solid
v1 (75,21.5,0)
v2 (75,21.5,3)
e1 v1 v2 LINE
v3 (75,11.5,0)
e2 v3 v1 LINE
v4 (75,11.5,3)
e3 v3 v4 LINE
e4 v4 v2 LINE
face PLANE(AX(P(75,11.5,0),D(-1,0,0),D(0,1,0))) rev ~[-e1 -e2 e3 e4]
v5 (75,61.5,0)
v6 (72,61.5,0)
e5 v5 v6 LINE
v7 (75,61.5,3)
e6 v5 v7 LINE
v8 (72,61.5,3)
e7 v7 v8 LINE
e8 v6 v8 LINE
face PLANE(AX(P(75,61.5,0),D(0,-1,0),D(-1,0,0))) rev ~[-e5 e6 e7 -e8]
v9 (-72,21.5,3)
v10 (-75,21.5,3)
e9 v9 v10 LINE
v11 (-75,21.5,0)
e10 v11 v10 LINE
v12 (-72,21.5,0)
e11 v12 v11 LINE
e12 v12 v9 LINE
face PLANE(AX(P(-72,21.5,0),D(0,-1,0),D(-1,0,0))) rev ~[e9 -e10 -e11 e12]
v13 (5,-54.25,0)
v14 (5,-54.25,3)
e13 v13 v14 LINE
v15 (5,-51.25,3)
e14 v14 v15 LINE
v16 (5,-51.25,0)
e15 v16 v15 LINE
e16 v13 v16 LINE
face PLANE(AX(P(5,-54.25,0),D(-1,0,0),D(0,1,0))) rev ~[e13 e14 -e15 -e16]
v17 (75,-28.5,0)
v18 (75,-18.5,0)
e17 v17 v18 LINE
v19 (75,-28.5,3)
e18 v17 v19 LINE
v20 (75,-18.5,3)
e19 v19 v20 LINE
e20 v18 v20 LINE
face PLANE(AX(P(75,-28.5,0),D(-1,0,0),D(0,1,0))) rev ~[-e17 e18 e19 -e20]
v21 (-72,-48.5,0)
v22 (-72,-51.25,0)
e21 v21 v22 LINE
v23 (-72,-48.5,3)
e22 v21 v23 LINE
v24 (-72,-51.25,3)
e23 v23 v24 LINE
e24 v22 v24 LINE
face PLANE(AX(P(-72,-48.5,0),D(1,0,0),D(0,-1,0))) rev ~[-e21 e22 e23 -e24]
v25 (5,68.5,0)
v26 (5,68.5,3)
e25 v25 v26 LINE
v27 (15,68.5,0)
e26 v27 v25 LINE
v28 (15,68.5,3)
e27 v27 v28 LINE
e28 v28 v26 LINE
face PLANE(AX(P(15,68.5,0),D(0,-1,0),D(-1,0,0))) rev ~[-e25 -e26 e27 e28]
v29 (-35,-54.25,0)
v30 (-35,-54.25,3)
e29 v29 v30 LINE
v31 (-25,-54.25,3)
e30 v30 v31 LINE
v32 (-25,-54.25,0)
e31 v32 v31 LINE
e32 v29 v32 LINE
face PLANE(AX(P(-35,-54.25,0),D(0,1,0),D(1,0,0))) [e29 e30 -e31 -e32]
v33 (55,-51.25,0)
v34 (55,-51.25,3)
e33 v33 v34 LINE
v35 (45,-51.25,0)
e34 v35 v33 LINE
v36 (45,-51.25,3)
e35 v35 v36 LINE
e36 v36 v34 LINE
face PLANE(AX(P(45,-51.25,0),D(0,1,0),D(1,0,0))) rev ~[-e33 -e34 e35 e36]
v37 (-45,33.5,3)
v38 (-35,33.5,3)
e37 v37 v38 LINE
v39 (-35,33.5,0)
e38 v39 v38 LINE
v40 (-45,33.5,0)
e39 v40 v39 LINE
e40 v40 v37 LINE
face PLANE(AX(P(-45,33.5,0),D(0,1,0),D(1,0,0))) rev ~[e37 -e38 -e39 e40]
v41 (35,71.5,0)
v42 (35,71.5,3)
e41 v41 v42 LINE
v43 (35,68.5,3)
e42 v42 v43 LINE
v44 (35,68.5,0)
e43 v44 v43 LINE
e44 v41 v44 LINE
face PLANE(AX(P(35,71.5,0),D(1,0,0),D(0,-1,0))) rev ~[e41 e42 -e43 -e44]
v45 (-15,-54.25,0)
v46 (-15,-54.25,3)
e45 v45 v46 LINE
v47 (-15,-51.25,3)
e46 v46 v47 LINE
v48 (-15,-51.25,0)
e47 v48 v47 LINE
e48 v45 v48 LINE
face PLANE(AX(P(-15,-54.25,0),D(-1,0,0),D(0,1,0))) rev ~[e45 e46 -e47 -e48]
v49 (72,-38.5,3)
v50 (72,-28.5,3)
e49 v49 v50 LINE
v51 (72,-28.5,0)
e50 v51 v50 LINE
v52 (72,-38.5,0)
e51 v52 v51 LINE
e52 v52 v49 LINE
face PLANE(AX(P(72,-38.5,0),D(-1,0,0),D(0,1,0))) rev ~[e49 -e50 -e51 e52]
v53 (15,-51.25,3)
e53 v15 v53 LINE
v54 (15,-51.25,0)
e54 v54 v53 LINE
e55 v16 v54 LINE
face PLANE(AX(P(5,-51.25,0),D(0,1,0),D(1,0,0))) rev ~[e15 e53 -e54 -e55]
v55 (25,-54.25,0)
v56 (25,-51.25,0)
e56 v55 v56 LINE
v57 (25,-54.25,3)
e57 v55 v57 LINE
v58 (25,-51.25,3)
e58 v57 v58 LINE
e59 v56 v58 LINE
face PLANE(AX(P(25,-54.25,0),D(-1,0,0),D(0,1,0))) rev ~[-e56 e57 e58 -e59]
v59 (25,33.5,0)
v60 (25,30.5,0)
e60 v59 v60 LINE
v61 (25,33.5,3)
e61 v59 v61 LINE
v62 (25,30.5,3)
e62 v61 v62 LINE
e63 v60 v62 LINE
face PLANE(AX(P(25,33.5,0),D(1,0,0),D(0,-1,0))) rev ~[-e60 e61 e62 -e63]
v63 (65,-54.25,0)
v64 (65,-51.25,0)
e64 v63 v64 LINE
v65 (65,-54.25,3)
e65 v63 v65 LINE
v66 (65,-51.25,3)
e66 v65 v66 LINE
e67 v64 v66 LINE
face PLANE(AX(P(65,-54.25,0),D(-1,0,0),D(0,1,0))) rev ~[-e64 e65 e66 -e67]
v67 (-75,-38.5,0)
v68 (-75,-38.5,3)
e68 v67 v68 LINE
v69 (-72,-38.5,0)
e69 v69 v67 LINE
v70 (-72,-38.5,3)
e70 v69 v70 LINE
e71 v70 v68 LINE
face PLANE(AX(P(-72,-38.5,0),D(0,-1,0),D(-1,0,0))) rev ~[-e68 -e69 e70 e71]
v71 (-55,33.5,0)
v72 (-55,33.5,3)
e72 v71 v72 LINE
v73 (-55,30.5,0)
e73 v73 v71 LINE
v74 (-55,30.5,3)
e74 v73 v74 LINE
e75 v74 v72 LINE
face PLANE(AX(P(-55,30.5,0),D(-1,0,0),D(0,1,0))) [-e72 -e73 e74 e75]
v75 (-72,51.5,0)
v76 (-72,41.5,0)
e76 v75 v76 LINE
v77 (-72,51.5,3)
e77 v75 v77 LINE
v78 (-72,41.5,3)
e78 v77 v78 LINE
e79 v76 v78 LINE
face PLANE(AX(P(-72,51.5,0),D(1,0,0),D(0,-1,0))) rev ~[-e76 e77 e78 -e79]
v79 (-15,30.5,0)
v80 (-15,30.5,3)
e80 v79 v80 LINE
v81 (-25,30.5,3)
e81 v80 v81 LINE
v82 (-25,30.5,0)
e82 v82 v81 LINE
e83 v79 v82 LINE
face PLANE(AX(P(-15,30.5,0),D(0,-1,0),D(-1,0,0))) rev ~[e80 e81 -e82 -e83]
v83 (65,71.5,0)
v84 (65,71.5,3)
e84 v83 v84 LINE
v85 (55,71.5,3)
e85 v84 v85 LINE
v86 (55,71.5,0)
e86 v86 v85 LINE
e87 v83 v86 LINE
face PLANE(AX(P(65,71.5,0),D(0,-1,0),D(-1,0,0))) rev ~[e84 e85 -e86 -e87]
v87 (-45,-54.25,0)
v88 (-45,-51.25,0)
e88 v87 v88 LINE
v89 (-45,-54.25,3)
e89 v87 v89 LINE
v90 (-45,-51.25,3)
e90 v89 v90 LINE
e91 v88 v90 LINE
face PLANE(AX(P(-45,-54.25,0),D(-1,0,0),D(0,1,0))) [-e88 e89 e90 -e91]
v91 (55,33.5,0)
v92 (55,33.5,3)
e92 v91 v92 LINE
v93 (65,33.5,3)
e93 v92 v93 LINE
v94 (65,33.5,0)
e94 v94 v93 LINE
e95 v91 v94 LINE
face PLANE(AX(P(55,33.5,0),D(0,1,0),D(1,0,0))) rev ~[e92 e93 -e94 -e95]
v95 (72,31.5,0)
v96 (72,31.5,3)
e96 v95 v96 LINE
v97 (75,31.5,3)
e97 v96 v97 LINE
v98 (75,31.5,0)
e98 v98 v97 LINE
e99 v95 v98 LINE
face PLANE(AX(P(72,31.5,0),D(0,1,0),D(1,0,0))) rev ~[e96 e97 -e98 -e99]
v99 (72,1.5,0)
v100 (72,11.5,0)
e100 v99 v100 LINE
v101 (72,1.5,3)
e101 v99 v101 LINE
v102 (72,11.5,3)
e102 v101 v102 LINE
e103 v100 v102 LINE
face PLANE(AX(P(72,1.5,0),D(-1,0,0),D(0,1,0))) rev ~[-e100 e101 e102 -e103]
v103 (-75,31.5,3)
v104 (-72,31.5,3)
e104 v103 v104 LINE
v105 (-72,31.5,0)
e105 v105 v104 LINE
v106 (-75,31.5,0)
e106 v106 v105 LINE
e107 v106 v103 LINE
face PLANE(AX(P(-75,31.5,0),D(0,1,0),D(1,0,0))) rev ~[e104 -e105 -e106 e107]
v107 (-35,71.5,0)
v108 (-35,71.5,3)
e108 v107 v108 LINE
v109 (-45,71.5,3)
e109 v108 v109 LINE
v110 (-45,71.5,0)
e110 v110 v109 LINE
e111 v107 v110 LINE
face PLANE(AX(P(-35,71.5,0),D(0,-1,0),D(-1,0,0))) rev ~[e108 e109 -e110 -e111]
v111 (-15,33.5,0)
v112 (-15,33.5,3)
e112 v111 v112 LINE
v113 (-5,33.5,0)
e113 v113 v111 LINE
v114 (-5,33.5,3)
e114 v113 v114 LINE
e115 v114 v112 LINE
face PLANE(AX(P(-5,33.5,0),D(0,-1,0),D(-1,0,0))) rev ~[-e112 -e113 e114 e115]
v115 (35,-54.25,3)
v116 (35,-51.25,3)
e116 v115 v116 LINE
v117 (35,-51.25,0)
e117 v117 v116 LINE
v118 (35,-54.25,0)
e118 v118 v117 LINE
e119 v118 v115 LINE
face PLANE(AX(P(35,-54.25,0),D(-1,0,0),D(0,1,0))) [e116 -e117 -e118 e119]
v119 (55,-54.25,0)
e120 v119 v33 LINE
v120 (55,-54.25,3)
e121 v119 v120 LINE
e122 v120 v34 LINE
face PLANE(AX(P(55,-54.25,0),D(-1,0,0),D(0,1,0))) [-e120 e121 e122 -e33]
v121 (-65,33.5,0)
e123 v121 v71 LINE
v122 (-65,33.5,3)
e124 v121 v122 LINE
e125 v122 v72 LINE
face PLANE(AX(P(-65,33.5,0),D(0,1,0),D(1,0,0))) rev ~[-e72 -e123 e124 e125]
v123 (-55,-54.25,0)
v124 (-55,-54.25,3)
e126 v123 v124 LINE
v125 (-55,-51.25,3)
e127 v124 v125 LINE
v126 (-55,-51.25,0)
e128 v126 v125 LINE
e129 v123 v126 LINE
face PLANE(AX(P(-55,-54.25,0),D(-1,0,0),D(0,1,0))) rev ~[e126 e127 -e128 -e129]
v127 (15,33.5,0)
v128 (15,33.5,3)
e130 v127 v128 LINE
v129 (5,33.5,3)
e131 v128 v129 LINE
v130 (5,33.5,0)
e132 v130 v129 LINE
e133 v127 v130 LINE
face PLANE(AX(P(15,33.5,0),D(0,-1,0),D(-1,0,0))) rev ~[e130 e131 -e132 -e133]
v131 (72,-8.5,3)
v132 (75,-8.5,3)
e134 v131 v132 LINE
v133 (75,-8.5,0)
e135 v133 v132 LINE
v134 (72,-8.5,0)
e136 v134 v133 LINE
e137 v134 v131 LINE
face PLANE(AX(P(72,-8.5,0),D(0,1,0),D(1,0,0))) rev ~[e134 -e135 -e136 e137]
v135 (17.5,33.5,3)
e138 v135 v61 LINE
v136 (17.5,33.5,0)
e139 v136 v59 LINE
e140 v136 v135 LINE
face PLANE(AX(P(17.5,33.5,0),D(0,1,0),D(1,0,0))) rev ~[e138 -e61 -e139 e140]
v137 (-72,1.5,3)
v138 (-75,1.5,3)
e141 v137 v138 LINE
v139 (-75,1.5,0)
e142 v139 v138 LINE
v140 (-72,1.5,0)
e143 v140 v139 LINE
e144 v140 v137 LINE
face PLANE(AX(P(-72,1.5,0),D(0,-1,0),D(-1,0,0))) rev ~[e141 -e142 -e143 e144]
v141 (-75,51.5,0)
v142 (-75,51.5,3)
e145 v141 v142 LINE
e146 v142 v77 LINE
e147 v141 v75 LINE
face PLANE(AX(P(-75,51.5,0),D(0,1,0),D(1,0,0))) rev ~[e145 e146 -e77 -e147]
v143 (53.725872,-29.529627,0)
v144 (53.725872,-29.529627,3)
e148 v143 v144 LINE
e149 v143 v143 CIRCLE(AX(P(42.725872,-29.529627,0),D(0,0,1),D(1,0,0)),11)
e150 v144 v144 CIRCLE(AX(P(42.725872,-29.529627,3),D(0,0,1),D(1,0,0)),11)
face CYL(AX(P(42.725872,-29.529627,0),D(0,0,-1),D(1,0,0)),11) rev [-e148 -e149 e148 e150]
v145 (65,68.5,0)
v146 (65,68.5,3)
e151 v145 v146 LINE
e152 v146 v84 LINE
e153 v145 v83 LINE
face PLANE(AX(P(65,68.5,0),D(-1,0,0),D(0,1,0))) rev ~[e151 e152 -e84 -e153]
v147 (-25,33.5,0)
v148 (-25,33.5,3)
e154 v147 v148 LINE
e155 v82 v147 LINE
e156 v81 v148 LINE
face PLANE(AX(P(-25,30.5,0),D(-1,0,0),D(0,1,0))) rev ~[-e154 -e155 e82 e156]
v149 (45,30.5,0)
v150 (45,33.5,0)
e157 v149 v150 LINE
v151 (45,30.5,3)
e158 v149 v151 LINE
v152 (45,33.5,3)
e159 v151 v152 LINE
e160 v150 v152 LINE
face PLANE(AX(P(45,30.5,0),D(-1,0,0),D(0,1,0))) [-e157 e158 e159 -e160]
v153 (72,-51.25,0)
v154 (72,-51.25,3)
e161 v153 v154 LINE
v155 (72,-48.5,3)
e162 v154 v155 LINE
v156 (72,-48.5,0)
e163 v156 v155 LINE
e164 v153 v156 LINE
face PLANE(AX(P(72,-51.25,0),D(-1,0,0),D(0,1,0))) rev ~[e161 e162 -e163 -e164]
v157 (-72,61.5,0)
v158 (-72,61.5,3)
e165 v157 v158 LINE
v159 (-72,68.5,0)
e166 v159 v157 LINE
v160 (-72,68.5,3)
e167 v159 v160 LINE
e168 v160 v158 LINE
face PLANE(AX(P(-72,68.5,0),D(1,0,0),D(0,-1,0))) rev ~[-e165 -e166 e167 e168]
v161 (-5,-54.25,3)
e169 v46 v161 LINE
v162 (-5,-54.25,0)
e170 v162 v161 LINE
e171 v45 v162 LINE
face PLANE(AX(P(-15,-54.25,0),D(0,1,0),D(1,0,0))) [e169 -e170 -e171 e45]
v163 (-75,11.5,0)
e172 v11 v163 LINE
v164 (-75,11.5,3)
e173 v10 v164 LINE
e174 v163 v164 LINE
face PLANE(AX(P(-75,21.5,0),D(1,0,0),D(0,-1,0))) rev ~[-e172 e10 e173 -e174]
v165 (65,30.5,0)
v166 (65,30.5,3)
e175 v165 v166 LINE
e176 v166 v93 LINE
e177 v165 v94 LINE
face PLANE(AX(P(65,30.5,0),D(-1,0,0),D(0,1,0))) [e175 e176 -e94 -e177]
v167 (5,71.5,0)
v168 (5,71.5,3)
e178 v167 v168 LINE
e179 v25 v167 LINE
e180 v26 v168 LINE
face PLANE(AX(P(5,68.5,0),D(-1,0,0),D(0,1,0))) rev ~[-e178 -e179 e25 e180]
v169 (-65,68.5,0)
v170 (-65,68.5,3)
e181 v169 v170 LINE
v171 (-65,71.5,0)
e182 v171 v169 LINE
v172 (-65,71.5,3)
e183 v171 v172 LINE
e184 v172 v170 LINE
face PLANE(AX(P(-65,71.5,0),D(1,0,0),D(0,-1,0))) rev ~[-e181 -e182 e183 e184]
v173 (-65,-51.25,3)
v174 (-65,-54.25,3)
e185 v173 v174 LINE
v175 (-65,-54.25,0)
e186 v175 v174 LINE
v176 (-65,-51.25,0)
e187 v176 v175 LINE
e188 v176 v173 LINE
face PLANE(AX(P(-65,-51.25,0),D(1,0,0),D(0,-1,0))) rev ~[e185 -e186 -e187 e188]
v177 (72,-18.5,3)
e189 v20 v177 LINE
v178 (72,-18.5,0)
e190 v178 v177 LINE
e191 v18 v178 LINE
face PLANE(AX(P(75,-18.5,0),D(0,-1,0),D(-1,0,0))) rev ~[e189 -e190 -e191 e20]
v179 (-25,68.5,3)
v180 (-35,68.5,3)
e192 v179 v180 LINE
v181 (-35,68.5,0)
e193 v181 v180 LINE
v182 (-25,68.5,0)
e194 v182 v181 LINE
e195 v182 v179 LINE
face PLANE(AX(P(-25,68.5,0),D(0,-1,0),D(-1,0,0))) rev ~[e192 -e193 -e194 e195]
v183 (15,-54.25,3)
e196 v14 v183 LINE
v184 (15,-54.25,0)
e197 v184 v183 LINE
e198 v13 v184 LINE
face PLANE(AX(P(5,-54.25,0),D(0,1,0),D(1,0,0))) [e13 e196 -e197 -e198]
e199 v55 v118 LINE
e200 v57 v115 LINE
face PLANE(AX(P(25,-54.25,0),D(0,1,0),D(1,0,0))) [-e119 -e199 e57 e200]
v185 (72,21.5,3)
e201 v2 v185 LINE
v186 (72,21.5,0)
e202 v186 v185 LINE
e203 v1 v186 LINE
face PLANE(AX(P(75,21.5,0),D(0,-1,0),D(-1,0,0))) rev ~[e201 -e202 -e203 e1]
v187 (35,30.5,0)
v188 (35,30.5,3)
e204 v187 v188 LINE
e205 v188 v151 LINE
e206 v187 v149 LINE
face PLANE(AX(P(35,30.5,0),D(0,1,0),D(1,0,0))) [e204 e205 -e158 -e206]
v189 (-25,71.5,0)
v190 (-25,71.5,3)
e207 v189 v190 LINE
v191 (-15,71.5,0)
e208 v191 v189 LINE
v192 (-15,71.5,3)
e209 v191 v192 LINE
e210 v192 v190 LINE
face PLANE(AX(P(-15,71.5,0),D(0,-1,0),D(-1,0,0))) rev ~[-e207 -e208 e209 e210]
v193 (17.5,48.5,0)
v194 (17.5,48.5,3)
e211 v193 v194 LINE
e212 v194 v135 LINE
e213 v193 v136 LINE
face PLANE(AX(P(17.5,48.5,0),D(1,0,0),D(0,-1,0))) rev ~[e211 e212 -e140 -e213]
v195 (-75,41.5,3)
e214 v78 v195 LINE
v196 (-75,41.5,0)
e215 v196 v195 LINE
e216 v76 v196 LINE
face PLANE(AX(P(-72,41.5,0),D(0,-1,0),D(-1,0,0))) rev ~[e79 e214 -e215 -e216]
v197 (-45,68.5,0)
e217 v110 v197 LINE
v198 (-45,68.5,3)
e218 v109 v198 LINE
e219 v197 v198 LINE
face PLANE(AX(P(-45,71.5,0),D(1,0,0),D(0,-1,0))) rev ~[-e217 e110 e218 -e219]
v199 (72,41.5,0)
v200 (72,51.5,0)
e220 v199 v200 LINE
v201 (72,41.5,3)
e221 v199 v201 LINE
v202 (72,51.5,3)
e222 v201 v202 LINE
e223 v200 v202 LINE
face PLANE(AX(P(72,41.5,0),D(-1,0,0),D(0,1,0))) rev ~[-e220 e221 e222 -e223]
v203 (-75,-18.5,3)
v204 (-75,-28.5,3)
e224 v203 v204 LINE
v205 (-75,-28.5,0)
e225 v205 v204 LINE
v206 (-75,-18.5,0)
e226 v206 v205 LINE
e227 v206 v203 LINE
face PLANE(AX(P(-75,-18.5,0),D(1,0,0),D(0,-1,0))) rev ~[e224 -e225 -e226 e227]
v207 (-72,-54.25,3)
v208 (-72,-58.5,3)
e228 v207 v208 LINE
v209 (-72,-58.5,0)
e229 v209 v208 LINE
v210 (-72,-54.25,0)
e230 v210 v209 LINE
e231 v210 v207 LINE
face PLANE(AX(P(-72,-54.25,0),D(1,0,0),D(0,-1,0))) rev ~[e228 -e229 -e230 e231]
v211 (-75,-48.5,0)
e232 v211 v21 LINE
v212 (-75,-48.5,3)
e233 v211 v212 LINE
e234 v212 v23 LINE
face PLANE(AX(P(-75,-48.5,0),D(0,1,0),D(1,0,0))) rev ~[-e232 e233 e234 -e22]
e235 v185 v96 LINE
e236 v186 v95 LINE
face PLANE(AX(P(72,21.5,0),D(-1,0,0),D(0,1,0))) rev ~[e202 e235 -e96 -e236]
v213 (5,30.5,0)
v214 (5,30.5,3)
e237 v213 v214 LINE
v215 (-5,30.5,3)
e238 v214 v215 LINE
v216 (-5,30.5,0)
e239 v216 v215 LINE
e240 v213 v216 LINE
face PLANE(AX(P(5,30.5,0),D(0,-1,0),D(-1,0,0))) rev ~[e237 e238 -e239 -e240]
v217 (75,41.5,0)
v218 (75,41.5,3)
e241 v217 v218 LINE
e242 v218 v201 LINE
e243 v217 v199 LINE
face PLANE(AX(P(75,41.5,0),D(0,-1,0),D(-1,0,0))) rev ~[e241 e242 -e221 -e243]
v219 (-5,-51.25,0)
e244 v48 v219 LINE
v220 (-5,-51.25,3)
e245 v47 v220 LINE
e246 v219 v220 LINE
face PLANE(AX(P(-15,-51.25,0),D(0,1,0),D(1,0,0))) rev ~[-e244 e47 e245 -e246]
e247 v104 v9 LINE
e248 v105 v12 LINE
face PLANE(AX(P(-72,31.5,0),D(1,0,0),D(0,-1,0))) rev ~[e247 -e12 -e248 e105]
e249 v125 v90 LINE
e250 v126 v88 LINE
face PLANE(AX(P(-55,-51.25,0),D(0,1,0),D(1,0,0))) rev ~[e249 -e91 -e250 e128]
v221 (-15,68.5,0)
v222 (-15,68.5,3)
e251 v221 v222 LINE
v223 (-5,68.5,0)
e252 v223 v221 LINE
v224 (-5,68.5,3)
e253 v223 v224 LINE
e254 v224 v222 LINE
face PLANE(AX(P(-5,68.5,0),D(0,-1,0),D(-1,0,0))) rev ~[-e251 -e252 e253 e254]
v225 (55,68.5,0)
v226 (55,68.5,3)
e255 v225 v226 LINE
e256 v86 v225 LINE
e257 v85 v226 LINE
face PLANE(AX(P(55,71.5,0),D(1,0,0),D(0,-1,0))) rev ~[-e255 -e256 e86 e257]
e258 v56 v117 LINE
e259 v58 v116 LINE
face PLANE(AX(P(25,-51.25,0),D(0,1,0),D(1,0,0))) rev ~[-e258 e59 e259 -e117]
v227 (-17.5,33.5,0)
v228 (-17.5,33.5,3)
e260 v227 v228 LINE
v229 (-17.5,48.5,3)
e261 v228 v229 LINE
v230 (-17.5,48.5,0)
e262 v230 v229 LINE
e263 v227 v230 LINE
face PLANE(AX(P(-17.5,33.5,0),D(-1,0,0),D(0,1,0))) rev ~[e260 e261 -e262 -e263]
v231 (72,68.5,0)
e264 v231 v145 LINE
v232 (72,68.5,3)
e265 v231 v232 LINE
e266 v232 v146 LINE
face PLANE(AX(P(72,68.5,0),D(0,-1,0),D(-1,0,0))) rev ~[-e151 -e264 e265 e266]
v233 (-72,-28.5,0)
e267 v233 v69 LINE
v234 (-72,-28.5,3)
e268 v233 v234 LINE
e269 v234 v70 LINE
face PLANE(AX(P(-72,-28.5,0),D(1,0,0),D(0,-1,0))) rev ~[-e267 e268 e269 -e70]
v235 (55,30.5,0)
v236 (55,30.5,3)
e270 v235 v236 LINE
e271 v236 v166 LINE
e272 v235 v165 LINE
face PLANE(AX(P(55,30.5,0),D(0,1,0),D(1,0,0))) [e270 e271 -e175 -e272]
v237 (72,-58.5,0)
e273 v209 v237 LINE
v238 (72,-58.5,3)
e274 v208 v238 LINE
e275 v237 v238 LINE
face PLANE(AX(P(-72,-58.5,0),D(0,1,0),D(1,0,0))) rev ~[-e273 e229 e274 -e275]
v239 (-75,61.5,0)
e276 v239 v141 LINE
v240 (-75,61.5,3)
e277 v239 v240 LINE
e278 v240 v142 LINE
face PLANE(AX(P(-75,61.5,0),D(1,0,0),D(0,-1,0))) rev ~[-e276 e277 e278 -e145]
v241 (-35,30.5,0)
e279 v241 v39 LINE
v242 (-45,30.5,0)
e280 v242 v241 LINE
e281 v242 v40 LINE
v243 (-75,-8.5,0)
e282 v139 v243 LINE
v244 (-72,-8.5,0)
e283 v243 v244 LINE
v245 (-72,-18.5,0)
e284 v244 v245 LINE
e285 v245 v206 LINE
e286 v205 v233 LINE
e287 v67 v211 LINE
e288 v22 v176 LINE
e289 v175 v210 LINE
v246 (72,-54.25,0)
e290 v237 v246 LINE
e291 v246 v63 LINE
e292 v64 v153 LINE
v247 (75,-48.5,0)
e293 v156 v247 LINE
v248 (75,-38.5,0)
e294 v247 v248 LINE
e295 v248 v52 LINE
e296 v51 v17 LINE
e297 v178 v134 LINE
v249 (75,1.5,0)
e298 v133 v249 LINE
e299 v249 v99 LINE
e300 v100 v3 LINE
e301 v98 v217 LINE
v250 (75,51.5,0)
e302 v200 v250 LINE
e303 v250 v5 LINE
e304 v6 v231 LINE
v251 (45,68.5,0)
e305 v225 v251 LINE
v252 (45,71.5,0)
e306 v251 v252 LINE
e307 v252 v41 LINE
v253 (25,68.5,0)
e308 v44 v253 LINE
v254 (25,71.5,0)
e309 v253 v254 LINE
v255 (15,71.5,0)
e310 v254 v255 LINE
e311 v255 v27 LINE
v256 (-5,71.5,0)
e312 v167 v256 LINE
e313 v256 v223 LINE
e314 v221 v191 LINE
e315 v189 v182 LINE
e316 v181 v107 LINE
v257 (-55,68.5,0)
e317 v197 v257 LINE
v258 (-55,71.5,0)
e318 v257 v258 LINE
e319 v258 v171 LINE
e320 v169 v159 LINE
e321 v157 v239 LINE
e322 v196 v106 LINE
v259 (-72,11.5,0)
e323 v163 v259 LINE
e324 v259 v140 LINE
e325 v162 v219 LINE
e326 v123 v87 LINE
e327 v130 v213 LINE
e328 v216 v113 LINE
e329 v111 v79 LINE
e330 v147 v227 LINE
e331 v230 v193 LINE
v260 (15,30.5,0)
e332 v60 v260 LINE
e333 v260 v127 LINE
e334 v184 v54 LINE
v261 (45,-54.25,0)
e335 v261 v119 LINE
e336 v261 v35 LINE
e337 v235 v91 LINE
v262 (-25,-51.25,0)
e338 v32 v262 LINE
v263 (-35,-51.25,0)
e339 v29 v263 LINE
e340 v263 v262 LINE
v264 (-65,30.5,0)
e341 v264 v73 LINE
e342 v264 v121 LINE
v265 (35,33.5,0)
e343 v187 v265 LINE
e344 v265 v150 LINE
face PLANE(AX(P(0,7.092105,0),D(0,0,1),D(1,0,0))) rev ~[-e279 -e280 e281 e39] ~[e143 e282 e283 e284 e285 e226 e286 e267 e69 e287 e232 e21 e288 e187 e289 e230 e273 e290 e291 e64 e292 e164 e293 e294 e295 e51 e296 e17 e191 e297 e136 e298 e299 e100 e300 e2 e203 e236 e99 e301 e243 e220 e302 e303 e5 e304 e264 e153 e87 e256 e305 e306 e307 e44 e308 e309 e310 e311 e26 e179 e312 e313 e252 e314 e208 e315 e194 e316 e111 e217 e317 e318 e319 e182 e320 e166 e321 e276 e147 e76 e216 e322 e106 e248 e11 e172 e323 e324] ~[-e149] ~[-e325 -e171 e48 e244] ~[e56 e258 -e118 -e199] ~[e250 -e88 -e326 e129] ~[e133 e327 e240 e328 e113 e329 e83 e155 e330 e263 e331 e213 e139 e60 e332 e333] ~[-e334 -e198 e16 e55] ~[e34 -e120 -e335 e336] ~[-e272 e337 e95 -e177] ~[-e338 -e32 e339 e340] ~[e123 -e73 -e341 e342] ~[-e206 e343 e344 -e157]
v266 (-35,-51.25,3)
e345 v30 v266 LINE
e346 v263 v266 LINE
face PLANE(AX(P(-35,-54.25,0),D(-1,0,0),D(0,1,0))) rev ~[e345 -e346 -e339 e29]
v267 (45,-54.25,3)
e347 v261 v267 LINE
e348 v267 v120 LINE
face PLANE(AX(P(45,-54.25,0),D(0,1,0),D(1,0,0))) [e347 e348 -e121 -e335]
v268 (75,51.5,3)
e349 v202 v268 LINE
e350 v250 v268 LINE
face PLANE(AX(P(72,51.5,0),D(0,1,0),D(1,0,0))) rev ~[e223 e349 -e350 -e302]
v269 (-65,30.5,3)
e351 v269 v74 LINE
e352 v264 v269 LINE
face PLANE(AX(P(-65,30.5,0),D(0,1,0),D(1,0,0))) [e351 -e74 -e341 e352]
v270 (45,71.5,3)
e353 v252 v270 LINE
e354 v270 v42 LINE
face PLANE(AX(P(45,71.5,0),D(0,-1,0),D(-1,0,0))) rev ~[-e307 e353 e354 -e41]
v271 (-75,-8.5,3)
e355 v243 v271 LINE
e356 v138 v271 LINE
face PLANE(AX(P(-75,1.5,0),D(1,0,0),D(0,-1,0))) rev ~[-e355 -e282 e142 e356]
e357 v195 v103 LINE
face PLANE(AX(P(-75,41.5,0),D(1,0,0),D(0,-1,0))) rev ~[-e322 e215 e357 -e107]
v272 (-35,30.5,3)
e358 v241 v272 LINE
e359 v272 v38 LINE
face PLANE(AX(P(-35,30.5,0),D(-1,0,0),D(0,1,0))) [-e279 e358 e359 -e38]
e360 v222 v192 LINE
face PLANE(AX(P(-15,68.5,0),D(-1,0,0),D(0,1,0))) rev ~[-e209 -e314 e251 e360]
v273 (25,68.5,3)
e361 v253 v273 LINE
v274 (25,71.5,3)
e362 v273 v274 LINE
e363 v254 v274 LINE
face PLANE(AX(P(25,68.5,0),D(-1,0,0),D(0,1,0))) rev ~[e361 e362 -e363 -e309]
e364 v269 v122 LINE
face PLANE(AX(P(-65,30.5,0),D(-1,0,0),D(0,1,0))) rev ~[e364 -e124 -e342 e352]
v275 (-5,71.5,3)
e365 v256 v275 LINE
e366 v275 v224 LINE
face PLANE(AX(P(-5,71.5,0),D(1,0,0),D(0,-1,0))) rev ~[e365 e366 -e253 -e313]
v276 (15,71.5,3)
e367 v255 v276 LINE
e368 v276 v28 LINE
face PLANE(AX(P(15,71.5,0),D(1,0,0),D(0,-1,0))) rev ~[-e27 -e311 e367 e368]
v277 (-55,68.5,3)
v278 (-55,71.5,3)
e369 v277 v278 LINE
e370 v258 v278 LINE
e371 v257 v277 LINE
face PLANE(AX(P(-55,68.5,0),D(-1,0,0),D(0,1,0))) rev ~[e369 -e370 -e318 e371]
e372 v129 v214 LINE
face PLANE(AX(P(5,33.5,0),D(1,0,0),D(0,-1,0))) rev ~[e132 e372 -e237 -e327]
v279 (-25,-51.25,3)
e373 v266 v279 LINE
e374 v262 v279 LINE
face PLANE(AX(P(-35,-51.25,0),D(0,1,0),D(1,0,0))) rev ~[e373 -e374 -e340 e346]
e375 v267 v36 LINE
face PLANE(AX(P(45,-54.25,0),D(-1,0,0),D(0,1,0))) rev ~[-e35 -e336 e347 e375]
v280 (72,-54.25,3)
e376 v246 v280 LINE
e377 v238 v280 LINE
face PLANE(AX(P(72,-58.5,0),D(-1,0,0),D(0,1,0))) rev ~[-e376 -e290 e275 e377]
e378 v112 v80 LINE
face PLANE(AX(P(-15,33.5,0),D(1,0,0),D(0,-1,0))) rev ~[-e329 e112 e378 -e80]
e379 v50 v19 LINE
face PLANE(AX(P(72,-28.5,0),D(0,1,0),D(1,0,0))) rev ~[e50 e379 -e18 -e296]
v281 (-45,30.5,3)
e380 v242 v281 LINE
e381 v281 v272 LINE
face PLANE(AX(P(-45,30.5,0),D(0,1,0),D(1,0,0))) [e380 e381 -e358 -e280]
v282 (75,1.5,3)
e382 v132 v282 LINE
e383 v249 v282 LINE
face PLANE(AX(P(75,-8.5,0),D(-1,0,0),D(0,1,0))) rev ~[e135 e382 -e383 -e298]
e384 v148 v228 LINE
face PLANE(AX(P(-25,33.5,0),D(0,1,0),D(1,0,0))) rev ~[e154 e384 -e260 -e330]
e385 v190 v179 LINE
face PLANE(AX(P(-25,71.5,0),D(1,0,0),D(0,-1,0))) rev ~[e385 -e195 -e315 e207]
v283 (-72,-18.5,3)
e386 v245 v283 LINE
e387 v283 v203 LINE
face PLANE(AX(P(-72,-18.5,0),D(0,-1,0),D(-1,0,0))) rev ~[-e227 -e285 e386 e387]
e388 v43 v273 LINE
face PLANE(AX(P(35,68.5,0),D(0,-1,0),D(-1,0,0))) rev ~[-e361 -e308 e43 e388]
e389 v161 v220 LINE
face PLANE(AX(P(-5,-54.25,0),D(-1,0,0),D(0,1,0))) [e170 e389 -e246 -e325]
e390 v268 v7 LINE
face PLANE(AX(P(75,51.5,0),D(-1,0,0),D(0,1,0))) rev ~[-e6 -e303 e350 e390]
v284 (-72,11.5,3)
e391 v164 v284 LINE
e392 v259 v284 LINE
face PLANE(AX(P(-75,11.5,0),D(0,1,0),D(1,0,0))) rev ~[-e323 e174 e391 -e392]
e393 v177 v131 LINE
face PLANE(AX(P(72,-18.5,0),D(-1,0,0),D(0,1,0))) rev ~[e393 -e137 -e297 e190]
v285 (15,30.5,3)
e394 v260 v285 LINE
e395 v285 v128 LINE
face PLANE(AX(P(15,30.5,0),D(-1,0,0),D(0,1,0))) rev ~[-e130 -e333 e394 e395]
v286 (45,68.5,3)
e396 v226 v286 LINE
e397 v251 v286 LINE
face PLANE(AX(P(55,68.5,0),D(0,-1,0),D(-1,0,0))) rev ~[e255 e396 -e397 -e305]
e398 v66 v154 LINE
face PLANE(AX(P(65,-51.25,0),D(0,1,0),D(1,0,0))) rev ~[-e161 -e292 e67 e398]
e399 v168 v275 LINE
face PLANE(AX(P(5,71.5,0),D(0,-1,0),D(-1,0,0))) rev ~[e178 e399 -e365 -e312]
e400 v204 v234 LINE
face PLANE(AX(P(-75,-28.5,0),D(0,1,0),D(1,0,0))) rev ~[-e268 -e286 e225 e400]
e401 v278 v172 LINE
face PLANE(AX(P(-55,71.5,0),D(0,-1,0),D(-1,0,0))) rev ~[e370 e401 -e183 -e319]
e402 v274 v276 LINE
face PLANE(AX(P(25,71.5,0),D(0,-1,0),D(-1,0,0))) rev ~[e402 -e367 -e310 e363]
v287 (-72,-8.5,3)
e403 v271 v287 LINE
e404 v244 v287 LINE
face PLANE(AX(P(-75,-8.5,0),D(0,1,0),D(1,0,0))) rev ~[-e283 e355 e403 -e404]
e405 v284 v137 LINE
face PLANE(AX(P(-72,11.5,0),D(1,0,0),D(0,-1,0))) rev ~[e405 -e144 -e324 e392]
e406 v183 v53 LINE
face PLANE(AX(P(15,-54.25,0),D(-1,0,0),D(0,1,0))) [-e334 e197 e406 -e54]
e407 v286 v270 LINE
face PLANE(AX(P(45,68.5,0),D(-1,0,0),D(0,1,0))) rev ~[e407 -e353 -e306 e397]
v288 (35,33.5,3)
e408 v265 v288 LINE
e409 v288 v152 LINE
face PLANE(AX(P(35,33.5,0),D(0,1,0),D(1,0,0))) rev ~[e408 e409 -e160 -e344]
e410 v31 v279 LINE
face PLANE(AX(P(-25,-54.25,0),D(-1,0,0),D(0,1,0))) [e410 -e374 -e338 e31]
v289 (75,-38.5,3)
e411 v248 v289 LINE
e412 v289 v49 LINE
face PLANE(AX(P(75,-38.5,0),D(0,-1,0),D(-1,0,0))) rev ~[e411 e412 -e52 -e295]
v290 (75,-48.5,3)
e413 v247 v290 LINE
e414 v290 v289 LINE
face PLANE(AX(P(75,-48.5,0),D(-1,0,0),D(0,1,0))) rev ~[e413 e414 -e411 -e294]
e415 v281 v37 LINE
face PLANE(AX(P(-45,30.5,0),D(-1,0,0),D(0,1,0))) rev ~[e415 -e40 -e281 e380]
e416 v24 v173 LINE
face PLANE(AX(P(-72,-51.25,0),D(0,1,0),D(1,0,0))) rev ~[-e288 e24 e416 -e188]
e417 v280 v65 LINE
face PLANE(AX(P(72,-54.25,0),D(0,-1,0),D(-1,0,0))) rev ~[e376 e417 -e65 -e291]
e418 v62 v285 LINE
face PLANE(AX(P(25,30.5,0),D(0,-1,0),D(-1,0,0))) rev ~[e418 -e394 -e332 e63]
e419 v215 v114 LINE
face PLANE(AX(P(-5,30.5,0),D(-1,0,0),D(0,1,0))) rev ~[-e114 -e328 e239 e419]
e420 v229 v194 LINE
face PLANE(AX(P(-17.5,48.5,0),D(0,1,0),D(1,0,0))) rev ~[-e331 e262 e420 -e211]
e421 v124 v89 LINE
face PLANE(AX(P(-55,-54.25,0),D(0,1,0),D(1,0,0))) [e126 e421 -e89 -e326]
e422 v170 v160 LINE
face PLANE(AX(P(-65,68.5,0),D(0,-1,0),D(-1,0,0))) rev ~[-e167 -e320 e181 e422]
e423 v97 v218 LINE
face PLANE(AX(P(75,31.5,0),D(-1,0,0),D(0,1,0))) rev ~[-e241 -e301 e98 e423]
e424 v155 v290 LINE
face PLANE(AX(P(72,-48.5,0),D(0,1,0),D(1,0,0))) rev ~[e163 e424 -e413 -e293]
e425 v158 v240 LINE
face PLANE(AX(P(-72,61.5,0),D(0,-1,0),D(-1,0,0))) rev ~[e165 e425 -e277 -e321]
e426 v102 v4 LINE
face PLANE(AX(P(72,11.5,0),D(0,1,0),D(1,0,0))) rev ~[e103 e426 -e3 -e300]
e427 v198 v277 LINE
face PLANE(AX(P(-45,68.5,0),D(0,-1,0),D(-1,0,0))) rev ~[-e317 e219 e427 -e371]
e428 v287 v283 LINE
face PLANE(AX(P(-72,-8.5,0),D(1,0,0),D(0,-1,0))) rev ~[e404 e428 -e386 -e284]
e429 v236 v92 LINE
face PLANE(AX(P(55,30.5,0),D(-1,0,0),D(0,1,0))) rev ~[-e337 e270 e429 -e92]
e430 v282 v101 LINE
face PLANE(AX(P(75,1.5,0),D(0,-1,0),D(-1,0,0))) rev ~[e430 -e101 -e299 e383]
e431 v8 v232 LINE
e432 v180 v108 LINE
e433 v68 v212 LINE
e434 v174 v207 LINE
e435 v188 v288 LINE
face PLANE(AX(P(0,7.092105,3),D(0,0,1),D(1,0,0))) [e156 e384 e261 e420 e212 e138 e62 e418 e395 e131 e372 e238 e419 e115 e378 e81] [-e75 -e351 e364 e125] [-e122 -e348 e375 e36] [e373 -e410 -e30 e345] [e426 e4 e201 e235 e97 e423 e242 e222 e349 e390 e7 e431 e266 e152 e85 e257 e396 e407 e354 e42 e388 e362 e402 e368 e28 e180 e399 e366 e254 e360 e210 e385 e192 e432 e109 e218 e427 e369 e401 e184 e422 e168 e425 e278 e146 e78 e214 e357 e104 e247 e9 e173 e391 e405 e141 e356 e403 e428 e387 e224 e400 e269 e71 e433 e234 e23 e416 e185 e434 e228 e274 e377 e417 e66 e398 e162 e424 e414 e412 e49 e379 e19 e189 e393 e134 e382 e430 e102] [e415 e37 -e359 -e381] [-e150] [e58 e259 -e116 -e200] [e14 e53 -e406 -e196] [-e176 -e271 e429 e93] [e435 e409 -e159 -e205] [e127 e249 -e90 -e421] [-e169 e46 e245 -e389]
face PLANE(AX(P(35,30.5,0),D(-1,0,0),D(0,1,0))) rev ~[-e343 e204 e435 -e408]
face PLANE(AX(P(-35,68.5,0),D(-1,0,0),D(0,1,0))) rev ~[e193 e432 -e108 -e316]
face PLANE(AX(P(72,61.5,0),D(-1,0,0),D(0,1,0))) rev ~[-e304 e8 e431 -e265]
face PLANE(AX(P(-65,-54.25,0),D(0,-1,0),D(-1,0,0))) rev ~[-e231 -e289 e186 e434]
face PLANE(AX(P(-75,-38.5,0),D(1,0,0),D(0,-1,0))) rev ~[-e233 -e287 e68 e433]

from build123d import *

# Parameters (mm, degrees)
CROQUIS1_W              = 10
CROQUIS1_H              = 3
CROQUIS1_R              = 11
SALIENTE_EXTRUIR1_DEPTH = 3


with BuildPart() as part:
    # Croquis1 → Saliente-Extruir1 (new body)
    with BuildSketch(Plane.XY):
        Polygon((-35, 71.5), (-45, 71.5), (-45, 68.5), (-55, 68.5), (-55, 71.5), (-65, 71.5), (-65, 68.5), (-72, 68.5), (-72, 61.5), (-75, 61.5), (-75, 51.5), (-72, 51.5), (-72, 41.5), (-75, 41.5), (-75, 31.5), (-72, 31.5), (-72, 21.5), (-75, 21.5), (-75, 11.5), (-72, 11.5), (-72, 1.5), (-75, 1.5), (-75, -8.5), (-72, -8.5), (-72, -18.5), (-75, -18.5), (-75, -28.5), (-72, -28.5), (-72, -38.5), (-75, -38.5), (-75, -48.5), (-72, -48.5), (-72, -51.25), (-65, -51.25), (-65, -54.25), (-72, -54.25), (-72, -58.5), (72, -58.5), (72, -54.25), (65, -54.25), (65, -51.25), (72, -51.25), (72, -48.5), (75, -48.5), (75, -38.5), (72, -38.5), (72, -28.5), (75, -28.5), (75, -18.5), (72, -18.5), (72, -8.5), (75, -8.5), (75, 1.5), (72, 1.5), (72, 11.5), (75, 11.5), (75, 21.5), (72, 21.5), (72, 31.5), (75, 31.5), (75, 41.5), (72, 41.5), (72, 51.5), (75, 51.5), (75, 61.5), (72, 61.5), (72, 68.5), (65, 68.5), (65, 71.5), (55, 71.5), (55, 68.5), (45, 68.5), (45, 71.5), (35, 71.5), (35, 68.5), (25, 68.5), (25, 71.5), (15, 71.5), (15, 68.5), (5, 68.5), (5, 71.5), (-5, 71.5), (-5, 68.5), (-15, 68.5), (-15, 71.5), (-25, 71.5), (-25, 68.5), (-35, 68.5), align=None)
        with Locations((-50, -52.75)):
            Rectangle(CROQUIS1_W, CROQUIS1_H, mode=Mode.SUBTRACT)
        with Locations((-30, -52.75)):
            Rectangle(CROQUIS1_W, CROQUIS1_H, mode=Mode.SUBTRACT)
        with Locations((-10, -52.75)):
            Rectangle(CROQUIS1_W, CROQUIS1_H, mode=Mode.SUBTRACT)
        with Locations((10, -52.75)):
            Rectangle(CROQUIS1_W, CROQUIS1_H, mode=Mode.SUBTRACT)
        with Locations((30, -52.75)):
            Rectangle(CROQUIS1_W, CROQUIS1_H, mode=Mode.SUBTRACT)
        with Locations((50, -52.75)):
            Rectangle(CROQUIS1_W, CROQUIS1_H, mode=Mode.SUBTRACT)
        with Locations((42.725871833, -29.529627422)):
            Circle(CROQUIS1_R, mode=Mode.SUBTRACT)
        with Locations((-60, 32)):
            Rectangle(CROQUIS1_W, CROQUIS1_H, mode=Mode.SUBTRACT)
        with Locations((-40, 32)):
            Rectangle(CROQUIS1_W, CROQUIS1_H, mode=Mode.SUBTRACT)
        Polygon((-25, 30.5), (-25, 33.5), (-17.5, 33.5), (-17.5, 48.5), (17.5, 48.5), (17.5, 33.5), (25, 33.5), (25, 30.5), (15, 30.5), (15, 33.5), (5, 33.5), (5, 30.5), (-5, 30.5), (-5, 33.5), (-15, 33.5), (-15, 30.5), align=None, mode=Mode.SUBTRACT)
        with Locations((40, 32)):
            Rectangle(CROQUIS1_W, CROQUIS1_H, mode=Mode.SUBTRACT)
        with Locations((60, 32)):
            Rectangle(CROQUIS1_W, CROQUIS1_H, mode=Mode.SUBTRACT)
    extrude(amount=SALIENTE_EXTRUIR1_DEPTH)


solid = part.part
